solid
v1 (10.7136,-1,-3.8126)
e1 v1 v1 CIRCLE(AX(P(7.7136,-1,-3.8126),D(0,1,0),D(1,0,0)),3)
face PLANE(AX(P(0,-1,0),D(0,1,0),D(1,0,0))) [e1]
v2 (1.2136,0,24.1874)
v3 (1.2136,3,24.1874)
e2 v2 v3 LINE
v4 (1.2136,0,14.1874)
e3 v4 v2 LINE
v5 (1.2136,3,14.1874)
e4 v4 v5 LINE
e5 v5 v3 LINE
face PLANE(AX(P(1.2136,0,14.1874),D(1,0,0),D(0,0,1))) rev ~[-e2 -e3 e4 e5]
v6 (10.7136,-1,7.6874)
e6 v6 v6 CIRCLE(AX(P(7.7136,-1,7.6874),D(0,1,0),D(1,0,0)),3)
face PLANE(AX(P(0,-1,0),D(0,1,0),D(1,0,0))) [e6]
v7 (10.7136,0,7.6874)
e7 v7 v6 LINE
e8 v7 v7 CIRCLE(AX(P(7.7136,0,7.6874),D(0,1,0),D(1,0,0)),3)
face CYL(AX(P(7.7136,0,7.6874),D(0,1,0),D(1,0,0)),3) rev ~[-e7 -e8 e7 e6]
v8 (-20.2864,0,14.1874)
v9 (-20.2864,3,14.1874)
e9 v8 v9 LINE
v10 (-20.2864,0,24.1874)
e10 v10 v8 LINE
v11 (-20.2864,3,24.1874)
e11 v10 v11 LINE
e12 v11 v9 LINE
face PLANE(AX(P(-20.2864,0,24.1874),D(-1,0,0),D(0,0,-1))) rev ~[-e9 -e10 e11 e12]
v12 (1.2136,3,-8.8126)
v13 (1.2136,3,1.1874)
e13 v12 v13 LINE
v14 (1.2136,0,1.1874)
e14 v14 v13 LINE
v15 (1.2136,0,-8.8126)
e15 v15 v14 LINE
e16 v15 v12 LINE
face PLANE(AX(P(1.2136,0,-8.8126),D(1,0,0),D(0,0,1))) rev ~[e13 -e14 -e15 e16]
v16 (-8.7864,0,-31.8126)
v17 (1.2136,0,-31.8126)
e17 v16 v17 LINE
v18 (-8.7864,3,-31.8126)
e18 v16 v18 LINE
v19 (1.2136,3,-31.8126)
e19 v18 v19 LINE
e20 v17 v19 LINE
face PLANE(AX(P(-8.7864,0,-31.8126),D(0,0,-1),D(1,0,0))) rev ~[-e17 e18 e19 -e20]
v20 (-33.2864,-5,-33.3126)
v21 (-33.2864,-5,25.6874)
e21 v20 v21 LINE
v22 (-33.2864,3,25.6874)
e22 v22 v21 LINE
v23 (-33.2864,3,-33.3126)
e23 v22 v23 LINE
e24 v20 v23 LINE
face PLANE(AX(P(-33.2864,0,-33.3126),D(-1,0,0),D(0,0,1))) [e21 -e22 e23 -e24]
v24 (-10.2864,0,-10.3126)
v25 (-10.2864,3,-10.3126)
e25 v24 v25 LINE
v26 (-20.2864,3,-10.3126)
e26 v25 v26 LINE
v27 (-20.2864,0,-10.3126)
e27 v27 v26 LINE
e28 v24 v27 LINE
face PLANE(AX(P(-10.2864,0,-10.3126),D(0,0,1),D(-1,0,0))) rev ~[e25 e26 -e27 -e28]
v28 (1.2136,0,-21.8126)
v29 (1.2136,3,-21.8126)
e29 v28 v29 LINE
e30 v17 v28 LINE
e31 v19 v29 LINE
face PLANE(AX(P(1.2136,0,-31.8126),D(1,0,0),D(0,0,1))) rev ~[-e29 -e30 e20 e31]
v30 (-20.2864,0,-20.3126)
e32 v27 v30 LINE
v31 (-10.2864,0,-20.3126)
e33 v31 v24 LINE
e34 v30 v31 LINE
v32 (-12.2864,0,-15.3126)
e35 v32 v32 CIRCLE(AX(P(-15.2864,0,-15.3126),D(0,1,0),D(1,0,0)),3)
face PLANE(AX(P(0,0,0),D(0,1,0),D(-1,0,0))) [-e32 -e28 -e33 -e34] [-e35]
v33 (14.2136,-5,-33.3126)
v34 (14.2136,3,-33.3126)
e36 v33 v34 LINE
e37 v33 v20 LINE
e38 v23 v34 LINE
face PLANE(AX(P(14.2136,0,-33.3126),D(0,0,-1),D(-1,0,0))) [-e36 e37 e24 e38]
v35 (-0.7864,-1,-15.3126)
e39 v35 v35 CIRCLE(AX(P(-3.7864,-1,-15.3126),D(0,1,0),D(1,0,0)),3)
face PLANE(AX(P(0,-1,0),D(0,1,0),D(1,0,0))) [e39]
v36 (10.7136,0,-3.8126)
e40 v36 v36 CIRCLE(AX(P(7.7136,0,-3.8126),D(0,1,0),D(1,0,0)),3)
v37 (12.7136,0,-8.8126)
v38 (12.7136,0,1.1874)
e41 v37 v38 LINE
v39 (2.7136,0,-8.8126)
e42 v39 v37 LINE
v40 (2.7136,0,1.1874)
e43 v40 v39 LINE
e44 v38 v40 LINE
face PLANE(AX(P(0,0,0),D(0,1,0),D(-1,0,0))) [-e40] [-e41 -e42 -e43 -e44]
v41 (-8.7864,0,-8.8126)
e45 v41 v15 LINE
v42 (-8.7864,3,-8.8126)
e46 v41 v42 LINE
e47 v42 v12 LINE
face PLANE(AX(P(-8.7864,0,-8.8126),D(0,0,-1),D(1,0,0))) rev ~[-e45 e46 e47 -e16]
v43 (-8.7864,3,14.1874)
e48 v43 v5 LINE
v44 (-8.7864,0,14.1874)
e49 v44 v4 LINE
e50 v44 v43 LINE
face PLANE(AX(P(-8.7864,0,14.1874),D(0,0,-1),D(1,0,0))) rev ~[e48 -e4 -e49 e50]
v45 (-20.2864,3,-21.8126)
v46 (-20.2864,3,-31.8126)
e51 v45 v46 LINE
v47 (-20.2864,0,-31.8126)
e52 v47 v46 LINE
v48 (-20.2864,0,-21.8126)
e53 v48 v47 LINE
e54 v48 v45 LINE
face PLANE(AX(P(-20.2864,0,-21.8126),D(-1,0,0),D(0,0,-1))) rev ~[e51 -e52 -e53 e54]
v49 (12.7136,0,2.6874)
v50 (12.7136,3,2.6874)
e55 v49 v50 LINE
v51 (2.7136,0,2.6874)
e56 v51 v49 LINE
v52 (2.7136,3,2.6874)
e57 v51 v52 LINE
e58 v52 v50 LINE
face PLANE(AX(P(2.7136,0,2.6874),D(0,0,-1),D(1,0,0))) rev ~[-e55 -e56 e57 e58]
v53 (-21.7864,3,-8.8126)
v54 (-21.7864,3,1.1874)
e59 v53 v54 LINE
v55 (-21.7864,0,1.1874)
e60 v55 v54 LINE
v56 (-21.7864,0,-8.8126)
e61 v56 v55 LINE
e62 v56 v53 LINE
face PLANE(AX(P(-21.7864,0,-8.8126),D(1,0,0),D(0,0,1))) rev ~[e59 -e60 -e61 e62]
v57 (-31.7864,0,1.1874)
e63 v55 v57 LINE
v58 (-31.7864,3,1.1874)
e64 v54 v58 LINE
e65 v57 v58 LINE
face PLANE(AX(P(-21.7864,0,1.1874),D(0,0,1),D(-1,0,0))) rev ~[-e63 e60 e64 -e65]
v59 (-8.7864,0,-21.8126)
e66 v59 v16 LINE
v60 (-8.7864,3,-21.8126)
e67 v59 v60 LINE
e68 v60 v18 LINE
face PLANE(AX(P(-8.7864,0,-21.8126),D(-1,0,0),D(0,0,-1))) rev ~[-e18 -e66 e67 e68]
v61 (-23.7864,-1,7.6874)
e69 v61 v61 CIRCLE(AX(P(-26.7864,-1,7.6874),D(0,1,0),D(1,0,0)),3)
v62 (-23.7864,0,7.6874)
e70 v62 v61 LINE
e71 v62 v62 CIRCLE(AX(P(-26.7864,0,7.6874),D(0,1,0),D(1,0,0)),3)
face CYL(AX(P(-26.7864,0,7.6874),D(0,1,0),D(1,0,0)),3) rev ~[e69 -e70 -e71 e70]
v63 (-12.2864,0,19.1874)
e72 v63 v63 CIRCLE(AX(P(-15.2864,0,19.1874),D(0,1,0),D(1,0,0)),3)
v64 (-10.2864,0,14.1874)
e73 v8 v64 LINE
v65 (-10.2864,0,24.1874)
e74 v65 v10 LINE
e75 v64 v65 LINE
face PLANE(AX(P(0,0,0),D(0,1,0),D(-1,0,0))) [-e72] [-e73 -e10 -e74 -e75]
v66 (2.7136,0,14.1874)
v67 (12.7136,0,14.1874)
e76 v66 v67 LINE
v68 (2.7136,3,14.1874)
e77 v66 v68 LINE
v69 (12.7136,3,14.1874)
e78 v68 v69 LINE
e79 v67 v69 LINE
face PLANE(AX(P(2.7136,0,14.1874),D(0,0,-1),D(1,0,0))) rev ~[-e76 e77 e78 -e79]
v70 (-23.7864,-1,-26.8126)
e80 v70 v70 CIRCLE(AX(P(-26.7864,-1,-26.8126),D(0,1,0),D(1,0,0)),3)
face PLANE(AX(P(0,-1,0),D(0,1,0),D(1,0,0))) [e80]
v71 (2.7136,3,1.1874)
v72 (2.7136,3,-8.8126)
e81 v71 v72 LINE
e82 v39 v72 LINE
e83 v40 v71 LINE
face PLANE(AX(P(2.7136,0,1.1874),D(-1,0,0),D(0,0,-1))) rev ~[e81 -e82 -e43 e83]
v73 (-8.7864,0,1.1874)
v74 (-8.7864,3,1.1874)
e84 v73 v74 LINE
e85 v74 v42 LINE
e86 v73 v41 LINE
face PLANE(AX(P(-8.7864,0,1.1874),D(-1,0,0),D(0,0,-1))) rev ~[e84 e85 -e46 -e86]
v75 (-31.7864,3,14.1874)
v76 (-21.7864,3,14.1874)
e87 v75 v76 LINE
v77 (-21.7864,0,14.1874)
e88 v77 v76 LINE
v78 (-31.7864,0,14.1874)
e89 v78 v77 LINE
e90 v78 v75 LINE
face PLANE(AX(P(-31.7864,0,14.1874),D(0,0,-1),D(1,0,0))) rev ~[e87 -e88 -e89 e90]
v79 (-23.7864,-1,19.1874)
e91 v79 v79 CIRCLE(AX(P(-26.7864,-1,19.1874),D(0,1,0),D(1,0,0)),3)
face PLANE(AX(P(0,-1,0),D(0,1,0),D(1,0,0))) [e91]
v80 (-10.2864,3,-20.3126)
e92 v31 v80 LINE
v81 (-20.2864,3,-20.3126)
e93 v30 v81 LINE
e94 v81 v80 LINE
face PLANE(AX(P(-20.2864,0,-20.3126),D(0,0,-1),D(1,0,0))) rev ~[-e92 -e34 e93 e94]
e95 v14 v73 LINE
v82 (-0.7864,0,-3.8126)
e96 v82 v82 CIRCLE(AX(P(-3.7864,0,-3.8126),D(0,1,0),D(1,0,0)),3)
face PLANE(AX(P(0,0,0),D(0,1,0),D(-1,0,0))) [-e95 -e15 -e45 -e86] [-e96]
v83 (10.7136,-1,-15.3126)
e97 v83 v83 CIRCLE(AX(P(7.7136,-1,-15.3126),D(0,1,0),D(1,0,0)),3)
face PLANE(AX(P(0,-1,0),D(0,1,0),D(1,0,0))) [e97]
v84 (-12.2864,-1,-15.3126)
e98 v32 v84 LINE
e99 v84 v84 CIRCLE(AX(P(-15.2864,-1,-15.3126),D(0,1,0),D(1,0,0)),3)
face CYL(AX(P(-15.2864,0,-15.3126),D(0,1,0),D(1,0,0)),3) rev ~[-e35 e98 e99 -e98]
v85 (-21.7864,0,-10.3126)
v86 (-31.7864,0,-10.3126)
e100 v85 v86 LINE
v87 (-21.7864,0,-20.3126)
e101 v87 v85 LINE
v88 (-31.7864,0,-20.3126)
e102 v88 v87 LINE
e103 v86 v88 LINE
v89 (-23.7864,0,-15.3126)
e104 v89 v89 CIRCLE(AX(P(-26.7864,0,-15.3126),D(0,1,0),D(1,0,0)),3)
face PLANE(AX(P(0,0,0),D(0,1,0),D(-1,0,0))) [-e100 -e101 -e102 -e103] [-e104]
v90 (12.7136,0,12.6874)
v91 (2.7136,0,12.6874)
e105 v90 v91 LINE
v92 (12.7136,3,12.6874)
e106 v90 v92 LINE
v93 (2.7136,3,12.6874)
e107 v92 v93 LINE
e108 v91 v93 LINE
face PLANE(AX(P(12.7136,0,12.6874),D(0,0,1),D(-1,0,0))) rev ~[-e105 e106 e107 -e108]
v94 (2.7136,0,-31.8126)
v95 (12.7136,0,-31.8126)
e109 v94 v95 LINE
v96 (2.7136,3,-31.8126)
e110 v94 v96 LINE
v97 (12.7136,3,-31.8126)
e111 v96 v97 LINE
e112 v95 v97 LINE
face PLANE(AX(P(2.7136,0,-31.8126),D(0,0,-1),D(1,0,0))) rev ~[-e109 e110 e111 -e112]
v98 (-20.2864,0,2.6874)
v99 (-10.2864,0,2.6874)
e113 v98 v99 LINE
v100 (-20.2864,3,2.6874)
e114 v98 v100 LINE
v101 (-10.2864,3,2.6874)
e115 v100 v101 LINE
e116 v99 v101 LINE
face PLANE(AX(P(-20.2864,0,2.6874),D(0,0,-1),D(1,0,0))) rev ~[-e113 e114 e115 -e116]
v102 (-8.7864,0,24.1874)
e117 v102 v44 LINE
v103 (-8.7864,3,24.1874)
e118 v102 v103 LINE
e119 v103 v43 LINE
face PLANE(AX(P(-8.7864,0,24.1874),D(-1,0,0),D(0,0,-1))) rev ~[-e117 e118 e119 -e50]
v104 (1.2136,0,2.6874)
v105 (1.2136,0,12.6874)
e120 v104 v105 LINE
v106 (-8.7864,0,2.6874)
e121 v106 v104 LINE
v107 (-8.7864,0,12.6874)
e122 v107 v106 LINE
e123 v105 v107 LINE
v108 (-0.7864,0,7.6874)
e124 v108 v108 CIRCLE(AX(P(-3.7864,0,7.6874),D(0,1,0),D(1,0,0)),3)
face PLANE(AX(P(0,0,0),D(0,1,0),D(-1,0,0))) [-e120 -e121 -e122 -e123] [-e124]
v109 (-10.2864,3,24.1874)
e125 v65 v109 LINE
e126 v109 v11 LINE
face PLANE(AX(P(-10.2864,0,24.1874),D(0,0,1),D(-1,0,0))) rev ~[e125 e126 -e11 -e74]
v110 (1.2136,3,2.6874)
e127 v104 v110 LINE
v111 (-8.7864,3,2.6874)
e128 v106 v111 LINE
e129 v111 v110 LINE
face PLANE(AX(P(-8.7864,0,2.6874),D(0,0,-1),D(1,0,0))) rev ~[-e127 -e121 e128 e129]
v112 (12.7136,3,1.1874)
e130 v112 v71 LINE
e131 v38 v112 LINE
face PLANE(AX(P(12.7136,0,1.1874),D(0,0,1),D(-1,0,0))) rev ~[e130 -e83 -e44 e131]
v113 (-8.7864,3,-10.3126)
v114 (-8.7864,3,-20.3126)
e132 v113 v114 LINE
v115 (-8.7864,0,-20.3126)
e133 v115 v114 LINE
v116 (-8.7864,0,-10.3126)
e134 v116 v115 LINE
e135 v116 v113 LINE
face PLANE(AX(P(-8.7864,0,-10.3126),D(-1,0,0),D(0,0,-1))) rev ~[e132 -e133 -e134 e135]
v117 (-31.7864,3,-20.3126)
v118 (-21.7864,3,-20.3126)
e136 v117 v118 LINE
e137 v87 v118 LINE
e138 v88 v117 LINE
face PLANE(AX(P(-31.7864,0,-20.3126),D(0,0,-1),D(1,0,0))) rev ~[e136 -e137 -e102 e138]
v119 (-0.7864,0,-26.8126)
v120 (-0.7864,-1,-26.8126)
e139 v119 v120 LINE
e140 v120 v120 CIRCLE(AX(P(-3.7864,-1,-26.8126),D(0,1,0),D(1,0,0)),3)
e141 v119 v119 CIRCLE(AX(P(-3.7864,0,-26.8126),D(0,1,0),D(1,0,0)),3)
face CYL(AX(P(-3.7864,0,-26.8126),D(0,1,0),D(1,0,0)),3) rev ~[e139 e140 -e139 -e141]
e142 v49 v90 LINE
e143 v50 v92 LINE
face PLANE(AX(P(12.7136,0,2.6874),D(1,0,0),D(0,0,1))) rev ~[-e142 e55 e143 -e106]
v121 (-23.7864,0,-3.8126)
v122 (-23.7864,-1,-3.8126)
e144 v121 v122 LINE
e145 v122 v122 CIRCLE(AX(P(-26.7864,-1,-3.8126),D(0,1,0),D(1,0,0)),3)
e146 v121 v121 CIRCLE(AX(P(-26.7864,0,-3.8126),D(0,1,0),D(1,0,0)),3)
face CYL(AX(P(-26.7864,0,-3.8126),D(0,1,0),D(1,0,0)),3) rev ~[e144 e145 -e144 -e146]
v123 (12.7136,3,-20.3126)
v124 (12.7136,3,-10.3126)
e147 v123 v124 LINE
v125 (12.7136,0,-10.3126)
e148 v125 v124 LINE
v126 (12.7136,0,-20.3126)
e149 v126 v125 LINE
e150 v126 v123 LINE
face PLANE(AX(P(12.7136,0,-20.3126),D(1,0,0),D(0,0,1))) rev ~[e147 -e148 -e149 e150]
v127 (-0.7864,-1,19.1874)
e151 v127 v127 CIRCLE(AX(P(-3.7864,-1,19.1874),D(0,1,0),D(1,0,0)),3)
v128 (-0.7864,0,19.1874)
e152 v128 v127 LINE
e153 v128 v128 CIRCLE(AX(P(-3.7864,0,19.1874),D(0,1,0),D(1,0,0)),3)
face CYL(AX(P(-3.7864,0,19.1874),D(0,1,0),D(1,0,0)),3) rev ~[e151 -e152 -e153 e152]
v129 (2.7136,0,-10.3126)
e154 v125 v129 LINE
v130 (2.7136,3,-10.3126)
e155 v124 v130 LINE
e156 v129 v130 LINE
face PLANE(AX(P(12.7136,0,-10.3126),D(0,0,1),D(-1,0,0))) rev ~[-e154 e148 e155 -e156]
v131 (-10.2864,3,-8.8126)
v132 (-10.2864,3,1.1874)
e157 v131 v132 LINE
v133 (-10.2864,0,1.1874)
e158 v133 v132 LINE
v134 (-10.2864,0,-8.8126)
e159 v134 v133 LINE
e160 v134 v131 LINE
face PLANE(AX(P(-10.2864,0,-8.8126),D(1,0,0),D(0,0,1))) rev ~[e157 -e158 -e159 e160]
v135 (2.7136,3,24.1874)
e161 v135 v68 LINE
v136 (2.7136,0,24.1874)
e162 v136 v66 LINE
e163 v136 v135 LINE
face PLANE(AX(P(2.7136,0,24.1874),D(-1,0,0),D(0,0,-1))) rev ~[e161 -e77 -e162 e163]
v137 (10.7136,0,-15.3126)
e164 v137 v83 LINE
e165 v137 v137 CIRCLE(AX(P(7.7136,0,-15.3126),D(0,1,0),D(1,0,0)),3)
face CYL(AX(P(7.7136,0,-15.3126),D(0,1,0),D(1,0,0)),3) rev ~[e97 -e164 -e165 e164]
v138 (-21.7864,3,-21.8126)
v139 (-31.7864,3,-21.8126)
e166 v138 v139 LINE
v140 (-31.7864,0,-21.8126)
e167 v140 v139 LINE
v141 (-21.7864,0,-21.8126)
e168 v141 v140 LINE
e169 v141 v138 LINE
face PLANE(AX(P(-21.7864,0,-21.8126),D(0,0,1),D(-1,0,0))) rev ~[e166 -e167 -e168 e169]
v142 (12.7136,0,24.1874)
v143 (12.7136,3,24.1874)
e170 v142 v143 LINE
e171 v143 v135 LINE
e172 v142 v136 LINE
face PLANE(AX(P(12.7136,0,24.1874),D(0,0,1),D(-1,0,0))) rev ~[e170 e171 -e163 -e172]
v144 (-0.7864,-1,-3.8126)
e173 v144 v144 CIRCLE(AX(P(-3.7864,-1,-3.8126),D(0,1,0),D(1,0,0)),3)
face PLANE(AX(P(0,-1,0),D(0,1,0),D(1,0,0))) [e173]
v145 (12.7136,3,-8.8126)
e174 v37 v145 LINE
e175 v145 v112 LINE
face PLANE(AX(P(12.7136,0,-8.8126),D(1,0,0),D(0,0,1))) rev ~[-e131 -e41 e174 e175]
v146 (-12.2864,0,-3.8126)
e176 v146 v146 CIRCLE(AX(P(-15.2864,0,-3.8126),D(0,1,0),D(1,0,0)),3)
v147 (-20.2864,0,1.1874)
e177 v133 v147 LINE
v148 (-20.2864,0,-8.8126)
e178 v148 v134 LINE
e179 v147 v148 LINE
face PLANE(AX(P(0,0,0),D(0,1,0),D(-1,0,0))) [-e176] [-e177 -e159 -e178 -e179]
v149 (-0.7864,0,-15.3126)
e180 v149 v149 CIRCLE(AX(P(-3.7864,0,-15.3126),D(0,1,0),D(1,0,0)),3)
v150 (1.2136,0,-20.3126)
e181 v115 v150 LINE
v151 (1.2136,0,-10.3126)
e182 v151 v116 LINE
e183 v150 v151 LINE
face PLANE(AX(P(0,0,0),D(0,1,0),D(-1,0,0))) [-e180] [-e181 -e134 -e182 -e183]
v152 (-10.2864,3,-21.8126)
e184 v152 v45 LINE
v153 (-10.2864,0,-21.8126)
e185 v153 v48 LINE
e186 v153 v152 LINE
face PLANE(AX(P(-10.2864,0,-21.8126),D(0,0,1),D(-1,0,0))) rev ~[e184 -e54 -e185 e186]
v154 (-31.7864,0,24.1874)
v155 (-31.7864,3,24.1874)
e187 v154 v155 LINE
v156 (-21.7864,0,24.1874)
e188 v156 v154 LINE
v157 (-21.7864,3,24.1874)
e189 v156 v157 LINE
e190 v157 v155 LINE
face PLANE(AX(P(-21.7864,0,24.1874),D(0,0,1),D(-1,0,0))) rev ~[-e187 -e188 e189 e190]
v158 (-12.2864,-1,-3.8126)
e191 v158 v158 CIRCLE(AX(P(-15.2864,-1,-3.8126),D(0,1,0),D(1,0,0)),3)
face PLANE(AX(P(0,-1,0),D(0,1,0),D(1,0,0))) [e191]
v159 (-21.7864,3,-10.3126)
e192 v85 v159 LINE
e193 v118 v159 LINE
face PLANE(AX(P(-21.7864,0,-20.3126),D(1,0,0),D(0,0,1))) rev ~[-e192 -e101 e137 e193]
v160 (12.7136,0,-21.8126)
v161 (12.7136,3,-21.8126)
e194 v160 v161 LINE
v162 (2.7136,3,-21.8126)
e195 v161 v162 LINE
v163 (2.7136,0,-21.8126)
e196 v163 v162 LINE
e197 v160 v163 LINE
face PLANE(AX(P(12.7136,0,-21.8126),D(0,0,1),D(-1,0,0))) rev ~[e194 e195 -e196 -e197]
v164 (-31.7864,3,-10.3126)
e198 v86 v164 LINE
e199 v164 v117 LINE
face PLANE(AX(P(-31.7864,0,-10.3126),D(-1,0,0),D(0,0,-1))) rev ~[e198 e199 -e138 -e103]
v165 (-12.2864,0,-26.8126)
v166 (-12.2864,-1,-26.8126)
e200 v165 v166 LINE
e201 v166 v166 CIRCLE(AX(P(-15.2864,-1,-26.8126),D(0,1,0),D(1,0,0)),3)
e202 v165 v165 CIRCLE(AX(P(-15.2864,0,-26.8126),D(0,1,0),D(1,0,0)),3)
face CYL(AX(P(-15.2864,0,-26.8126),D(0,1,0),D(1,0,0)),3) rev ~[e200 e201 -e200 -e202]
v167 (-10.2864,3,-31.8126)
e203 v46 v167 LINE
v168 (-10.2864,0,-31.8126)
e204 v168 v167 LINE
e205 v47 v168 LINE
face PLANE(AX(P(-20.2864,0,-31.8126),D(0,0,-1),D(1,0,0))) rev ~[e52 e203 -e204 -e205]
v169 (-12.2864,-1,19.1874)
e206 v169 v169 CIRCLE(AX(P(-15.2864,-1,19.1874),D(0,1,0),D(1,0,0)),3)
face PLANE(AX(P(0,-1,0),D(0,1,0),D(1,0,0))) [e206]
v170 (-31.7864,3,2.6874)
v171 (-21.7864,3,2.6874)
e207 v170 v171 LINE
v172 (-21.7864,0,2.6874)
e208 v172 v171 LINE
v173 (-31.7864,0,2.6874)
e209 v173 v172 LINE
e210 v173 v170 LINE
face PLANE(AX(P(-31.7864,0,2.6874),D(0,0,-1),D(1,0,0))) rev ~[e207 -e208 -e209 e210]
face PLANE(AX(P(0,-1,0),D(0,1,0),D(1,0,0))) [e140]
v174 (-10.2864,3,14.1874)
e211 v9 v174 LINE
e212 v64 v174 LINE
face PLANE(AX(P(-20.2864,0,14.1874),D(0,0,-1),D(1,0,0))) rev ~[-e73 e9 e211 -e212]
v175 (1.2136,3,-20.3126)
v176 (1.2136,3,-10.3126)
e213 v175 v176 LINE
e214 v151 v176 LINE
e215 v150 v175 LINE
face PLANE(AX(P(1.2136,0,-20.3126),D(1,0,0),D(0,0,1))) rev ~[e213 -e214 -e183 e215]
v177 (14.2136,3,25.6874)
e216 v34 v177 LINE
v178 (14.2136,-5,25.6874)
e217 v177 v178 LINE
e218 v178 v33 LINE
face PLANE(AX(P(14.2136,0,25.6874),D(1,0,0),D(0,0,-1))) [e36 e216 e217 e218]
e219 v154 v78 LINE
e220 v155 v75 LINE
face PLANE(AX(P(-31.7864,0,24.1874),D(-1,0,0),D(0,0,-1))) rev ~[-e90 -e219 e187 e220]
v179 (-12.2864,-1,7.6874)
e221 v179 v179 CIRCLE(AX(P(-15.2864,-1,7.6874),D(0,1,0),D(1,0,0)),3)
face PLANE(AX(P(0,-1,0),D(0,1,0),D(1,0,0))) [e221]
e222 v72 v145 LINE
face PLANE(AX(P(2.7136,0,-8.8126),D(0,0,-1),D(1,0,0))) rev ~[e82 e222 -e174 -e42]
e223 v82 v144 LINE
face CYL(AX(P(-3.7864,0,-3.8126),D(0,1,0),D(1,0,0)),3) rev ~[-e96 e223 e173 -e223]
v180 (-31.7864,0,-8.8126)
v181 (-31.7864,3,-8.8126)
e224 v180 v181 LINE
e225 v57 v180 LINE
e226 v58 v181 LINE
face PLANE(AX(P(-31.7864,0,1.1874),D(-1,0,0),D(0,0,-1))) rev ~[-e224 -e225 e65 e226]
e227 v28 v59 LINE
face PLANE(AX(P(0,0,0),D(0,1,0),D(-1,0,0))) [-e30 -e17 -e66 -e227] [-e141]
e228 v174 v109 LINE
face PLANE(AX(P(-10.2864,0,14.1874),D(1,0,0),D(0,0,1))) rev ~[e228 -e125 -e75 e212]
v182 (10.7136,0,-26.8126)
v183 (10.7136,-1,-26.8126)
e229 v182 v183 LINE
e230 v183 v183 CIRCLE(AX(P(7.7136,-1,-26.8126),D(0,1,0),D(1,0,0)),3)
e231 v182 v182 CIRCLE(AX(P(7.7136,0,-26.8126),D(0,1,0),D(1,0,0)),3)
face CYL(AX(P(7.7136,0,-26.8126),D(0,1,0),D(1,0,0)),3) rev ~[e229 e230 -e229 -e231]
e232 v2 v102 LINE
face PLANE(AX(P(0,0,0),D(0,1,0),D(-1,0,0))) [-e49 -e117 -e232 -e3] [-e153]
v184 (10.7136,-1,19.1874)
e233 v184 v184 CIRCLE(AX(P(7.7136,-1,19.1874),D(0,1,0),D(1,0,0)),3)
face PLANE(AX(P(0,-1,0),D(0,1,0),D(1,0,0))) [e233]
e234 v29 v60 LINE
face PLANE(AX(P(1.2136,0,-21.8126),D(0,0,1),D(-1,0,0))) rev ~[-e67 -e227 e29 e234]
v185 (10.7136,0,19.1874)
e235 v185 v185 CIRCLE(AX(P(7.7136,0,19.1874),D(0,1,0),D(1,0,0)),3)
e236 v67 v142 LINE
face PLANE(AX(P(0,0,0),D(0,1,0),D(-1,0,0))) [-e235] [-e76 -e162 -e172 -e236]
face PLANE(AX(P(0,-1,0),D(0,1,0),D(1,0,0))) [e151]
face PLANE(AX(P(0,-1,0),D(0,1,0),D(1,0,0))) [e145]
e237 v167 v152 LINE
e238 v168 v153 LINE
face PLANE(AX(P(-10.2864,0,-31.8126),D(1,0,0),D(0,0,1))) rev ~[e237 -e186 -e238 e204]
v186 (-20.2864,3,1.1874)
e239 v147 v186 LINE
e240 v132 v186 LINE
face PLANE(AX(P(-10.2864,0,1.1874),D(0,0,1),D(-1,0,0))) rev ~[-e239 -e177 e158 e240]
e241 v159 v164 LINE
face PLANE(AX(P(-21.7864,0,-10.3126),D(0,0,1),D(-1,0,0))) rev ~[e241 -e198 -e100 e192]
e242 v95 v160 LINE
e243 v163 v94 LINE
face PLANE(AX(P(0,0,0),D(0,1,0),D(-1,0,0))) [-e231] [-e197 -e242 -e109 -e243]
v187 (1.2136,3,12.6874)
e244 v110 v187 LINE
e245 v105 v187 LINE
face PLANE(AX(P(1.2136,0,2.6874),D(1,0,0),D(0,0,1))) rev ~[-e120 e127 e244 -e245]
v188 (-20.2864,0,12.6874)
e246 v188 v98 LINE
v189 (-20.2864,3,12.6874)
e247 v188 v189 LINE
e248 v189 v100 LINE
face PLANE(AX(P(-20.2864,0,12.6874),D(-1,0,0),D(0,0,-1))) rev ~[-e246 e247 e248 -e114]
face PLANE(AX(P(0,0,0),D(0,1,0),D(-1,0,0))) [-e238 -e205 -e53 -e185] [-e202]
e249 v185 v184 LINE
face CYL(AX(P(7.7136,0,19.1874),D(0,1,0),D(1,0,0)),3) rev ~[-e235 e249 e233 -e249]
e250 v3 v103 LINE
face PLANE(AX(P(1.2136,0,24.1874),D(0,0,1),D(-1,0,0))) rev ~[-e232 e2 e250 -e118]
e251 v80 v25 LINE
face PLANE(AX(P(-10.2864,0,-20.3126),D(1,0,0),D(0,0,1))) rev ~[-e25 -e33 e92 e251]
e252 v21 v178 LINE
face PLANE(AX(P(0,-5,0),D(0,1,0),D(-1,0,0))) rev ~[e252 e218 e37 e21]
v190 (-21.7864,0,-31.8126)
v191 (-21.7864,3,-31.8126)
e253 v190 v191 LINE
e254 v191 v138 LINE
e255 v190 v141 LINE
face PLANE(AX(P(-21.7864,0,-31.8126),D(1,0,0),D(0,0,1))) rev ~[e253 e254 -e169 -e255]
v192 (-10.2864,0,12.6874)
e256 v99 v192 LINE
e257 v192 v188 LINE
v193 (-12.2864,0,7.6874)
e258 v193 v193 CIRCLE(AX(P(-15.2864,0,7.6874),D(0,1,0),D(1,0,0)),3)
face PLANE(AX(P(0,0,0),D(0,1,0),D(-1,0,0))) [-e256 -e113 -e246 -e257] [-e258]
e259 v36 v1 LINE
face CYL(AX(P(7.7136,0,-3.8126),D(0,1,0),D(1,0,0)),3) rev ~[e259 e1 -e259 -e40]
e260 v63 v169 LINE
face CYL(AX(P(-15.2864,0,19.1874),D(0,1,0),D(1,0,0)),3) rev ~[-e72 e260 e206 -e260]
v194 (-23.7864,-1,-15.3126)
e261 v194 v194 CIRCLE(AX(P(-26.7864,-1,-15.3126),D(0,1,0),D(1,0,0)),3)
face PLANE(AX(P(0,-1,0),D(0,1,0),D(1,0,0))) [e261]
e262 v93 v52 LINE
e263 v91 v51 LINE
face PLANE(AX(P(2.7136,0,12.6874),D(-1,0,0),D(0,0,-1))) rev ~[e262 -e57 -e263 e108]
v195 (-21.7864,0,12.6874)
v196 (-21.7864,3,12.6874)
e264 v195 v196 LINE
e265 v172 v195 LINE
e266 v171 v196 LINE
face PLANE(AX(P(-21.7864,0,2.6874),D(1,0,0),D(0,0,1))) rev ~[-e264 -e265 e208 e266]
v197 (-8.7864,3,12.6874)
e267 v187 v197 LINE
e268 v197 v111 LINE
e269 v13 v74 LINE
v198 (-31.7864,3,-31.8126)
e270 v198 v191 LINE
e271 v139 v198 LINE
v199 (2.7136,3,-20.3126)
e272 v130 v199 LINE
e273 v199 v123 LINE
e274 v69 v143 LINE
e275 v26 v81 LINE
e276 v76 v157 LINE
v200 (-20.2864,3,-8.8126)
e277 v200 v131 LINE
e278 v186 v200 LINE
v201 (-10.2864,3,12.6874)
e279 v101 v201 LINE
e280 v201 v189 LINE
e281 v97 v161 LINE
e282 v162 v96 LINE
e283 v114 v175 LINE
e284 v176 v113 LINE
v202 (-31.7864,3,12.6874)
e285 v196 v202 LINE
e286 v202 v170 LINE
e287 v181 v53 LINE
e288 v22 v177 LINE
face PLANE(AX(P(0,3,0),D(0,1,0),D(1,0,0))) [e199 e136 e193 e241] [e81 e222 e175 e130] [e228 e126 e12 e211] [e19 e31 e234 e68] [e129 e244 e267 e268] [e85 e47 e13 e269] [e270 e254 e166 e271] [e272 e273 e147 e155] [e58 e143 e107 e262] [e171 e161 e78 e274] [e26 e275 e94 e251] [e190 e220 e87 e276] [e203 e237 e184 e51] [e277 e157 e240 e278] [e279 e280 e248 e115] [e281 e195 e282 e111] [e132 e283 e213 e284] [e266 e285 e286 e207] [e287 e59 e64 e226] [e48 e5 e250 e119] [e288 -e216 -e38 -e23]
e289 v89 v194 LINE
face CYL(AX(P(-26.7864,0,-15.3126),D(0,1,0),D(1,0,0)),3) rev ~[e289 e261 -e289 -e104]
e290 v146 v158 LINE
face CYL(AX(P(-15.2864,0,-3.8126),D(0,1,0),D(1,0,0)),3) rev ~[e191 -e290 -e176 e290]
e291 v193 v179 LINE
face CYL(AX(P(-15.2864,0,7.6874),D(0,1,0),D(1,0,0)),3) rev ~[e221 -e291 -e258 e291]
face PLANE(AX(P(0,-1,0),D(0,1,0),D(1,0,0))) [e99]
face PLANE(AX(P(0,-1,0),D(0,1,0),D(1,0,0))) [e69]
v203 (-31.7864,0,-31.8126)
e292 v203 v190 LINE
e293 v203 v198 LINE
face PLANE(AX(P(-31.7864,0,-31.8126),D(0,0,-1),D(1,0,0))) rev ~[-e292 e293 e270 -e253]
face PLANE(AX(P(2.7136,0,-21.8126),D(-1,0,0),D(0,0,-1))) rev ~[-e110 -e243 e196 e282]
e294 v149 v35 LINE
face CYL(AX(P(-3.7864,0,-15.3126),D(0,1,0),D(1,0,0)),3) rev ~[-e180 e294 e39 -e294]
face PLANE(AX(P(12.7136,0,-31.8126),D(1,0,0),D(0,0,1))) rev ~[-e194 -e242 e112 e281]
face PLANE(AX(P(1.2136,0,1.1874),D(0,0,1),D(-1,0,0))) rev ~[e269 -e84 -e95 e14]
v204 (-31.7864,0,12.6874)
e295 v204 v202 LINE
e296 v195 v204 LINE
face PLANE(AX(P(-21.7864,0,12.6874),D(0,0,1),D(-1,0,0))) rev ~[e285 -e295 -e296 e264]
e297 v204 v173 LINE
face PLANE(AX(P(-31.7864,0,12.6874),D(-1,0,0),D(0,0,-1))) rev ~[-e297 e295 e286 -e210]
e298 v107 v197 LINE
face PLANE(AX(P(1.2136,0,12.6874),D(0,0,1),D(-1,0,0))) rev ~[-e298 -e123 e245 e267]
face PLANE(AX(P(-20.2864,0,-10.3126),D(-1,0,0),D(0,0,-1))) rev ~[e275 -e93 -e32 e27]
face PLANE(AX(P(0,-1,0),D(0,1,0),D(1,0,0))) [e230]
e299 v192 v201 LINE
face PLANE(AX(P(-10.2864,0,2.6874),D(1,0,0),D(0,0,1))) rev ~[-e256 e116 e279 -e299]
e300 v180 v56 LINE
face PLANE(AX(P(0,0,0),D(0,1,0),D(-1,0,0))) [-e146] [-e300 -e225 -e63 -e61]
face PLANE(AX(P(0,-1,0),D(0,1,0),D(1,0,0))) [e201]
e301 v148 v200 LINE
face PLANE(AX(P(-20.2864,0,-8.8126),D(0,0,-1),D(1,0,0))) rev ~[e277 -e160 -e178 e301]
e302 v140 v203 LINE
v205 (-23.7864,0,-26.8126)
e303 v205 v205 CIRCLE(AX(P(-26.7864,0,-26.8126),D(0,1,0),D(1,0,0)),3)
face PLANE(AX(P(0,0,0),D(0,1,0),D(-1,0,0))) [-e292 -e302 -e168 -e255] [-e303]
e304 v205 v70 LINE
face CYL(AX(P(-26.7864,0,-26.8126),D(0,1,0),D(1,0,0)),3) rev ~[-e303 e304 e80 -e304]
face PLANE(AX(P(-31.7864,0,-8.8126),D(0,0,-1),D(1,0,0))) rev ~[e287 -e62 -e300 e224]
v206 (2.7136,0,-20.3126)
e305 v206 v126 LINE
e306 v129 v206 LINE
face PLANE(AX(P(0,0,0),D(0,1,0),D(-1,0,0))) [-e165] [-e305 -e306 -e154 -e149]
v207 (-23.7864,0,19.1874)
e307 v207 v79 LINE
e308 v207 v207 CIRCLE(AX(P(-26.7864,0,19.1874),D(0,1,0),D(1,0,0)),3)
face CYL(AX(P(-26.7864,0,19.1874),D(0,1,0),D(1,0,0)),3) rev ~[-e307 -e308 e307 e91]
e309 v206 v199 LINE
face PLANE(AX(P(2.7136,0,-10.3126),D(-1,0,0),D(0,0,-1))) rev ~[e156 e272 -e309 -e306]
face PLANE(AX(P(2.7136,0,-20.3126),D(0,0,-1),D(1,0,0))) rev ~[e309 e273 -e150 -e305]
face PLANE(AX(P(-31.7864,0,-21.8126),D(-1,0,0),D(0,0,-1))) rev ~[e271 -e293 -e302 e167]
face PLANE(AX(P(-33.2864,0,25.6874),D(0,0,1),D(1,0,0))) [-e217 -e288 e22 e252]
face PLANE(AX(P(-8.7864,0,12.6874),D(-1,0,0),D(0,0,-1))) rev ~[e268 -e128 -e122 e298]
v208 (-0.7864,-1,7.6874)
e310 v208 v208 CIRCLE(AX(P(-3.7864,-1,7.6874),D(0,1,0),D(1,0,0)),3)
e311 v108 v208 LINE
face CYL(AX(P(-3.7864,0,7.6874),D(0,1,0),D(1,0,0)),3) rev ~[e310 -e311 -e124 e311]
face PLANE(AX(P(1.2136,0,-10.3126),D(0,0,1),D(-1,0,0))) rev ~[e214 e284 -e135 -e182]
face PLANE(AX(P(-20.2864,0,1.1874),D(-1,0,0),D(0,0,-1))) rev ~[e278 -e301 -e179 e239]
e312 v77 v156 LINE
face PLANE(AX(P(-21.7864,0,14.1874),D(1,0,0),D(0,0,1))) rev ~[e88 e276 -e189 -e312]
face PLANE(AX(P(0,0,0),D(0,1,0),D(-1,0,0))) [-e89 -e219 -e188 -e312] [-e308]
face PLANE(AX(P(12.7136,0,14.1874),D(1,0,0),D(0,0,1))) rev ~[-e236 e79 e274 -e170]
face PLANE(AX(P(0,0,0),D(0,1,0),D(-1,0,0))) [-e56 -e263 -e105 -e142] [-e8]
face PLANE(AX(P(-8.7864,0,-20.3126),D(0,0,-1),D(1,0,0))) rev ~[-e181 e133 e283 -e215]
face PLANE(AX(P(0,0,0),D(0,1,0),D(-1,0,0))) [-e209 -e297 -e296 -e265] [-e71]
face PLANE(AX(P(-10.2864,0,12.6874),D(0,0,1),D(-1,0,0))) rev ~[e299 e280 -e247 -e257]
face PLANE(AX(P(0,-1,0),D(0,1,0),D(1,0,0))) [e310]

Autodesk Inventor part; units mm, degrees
sketch "Sketch1" plane through (0, 0, 0) normal (0, 1, 0) x (-1, 0, 0)
  line L0 (-14.2136, -33.3126) -> (33.2864, -33.3126)
  line L1 (33.2864, -33.3126) -> (33.2864, 25.6874)
  line L2 (33.2864, 25.6874) -> (-14.2136, 25.6874)
  line L3 (-14.2136, 25.6874) -> (-14.2136, -33.3126)
  point P0 (0, 0)
  dimension "d0" = 59
  dimension "d1" = 47.5
extrude "Extrusion1" add sketch "Sketch1" against normal blind 5
sketch "Sketch2" plane through (0, 0, 0) normal (0, 1, 0) x (1, 0, 0)
  line L0 (-33.2864, 33.3126) -> (14.2136, 33.3126) projected
  line L1 (14.2136, 33.3126) -> (-33.2864, 33.3126)
  line L2 (-33.2864, 33.3126) -> (-33.2864, 31.8126)
  line L3 (-33.2864, 31.8126) -> (14.2136, 31.8126)
  line L4 (14.2136, 31.8126) -> (14.2136, 33.3126)
  line L5 (14.2136, 31.8126) -> (12.7136, 31.8126)
  line L6 (12.7136, 31.8126) -> (12.7136, 21.8126)
  line L7 (12.7136, 21.8126) -> (14.2136, 21.8126)
  line L8 (14.2136, 21.8126) -> (14.2136, 31.8126)
  line L9 (2.7136, 21.8126) -> (2.7136, 31.8126)
  line L10 (1.2136, 31.8126) -> (1.2136, 21.8126)
  line L11 (1.2136, 21.8126) -> (2.7136, 21.8126)
  line L12 (-8.7864, 21.8126) -> (-8.7864, 31.8126)
  line L13 (-10.2864, 31.8126) -> (-10.2864, 21.8126)
  line L14 (-10.2864, 21.8126) -> (-8.7864, 21.8126)
  line L15 (-20.2864, 21.8126) -> (-20.2864, 31.8126)
  line L16 (-21.7864, 31.8126) -> (-21.7864, 21.8126)
  line L17 (-21.7864, 21.8126) -> (-20.2864, 21.8126)
  line L18 (-31.7864, 21.8126) -> (-31.7864, 31.8126)
  line L19 (-33.2864, 31.8126) -> (-33.2864, 21.8126)
  line L20 (-33.2864, 21.8126) -> (-31.7864, 21.8126)
  line L21 (14.2136, 10.3126) -> (14.2136, 20.3126)
  line L22 (12.7136, 20.3126) -> (12.7136, 10.3126)
  line L23 (14.2136, 21.8126) -> (-33.2864, 21.8126)
  line L24 (-33.2864, 20.3126) -> (14.2136, 20.3126)
  line L25 (14.2136, 20.3126) -> (14.2136, 21.8126)
  line L26 (-33.2864, 21.8126) -> (-33.2864, 20.3126)
  line L27 (-33.2864, 20.3126) -> (-33.2864, 10.3126)
  line L28 (-31.7864, 10.3126) -> (-31.7864, 20.3126)
  line L29 (-21.7864, 20.3126) -> (-21.7864, 10.3126)
  line L30 (-20.2864, 10.3126) -> (-20.2864, 20.3126)
  line L31 (-10.2864, 20.3126) -> (-10.2864, 10.3126)
  line L32 (-8.7864, 10.3126) -> (-8.7864, 20.3126)
  line L33 (1.2136, 20.3126) -> (1.2136, 10.3126)
  line L34 (2.7136, 10.3126) -> (2.7136, 20.3126)
  line L35 (1.2136, 10.3126) -> (2.7136, 10.3126)
  line L36 (-10.2864, 10.3126) -> (-8.7864, 10.3126)
  line L37 (12.7136, 10.3126) -> (14.2136, 10.3126)
  line L38 (-33.2864, 10.3126) -> (-31.7864, 10.3126)
  line L39 (-21.7864, 10.3126) -> (-20.2864, 10.3126)
  line L40 (14.2136, -1.1874) -> (14.2136, 8.8126)
  line L41 (12.7136, 8.8126) -> (12.7136, -1.1874)
  line L42 (14.2136, 10.3126) -> (-33.2864, 10.3126)
  line L43 (-33.2864, 8.8126) -> (14.2136, 8.8126)
  line L44 (14.2136, 8.8126) -> (14.2136, 10.3126)
  line L45 (-33.2864, 10.3126) -> (-33.2864, 8.8126)
  line L46 (-33.2864, 8.8126) -> (-33.2864, -1.1874)
  line L47 (-31.7864, -1.1874) -> (-31.7864, 8.8126)
  line L48 (-21.7864, 8.8126) -> (-21.7864, -1.1874)
  line L49 (-20.2864, -1.1874) -> (-20.2864, 8.8126)
  line L50 (-10.2864, 8.8126) -> (-10.2864, -1.1874)
  line L51 (-8.7864, -1.1874) -> (-8.7864, 8.8126)
  line L52 (1.2136, 8.8126) -> (1.2136, -1.1874)
  line L53 (2.7136, -1.1874) -> (2.7136, 8.8126)
  line L54 (1.2136, -1.1874) -> (2.7136, -1.1874)
  line L55 (-10.2864, -1.1874) -> (-8.7864, -1.1874)
  line L56 (12.7136, -1.1874) -> (14.2136, -1.1874)
  line L57 (-33.2864, -1.1874) -> (-31.7864, -1.1874)
  line L58 (-21.7864, -1.1874) -> (-20.2864, -1.1874)
  line L59 (14.2136, -12.6874) -> (14.2136, -2.6874)
  line L60 (12.7136, -2.6874) -> (12.7136, -12.6874)
  line L61 (14.2136, -1.1874) -> (-33.2864, -1.1874)
  line L62 (-33.2864, -2.6874) -> (14.2136, -2.6874)
  line L63 (14.2136, -2.6874) -> (14.2136, -1.1874)
  line L64 (-33.2864, -1.1874) -> (-33.2864, -2.6874)
  line L65 (-33.2864, -2.6874) -> (-33.2864, -12.6874)
  line L66 (-31.7864, -12.6874) -> (-31.7864, -2.6874)
  line L67 (-21.7864, -2.6874) -> (-21.7864, -12.6874)
  line L68 (-20.2864, -12.6874) -> (-20.2864, -2.6874)
  line L69 (-10.2864, -2.6874) -> (-10.2864, -12.6874)
  line L70 (-8.7864, -12.6874) -> (-8.7864, -2.6874)
  line L71 (1.2136, -2.6874) -> (1.2136, -12.6874)
  line L72 (2.7136, -12.6874) -> (2.7136, -2.6874)
  line L73 (1.2136, -12.6874) -> (2.7136, -12.6874)
  line L74 (-10.2864, -12.6874) -> (-8.7864, -12.6874)
  line L75 (12.7136, -12.6874) -> (14.2136, -12.6874)
  line L76 (-33.2864, -12.6874) -> (-31.7864, -12.6874)
  line L77 (-21.7864, -12.6874) -> (-20.2864, -12.6874)
  line L78 (14.2136, -24.1874) -> (14.2136, -14.1874)
  line L79 (12.7136, -14.1874) -> (12.7136, -24.1874)
  line L80 (14.2136, -12.6874) -> (-33.2864, -12.6874)
  line L81 (-33.2864, -14.1874) -> (14.2136, -14.1874)
  line L82 (14.2136, -14.1874) -> (14.2136, -12.6874)
  line L83 (-33.2864, -12.6874) -> (-33.2864, -14.1874)
  line L84 (-33.2864, -14.1874) -> (-33.2864, -24.1874)
  line L85 (-31.7864, -24.1874) -> (-31.7864, -14.1874)
  line L86 (-21.7864, -14.1874) -> (-21.7864, -24.1874)
  line L87 (-20.2864, -24.1874) -> (-20.2864, -14.1874)
  line L88 (-10.2864, -14.1874) -> (-10.2864, -24.1874)
  line L89 (-8.7864, -24.1874) -> (-8.7864, -14.1874)
  line L90 (1.2136, -14.1874) -> (1.2136, -24.1874)
  line L91 (2.7136, -24.1874) -> (2.7136, -14.1874)
  line L92 (1.2136, -24.1874) -> (2.7136, -24.1874)
  line L93 (-10.2864, -24.1874) -> (-8.7864, -24.1874)
  line L94 (12.7136, -24.1874) -> (14.2136, -24.1874)
  line L95 (-33.2864, -24.1874) -> (-31.7864, -24.1874)
  line L96 (-21.7864, -24.1874) -> (-20.2864, -24.1874)
  line L97 (-33.2864, -25.6874) -> (-33.2864, 33.3126) projected
  line L98 (14.2136, -24.1874) -> (-33.2864, -24.1874)
  line L99 (-33.2864, -24.1874) -> (-33.2864, -25.6874)
  line L100 (-33.2864, -25.6874) -> (14.2136, -25.6874)
  line L101 (14.2136, -25.6874) -> (14.2136, -24.1874)
  point P0 (0, 0)
  point P1 (13.4636, 31.8126)
  point P2 (13.4636, 21.8126)
  point P3 (1.9636, 21.8126)
  point P4 (-9.5364, 21.8126)
  point P5 (-21.0364, 21.8126)
  point P6 (-32.5364, 21.8126)
  point P7 (1.9636, 10.3126)
  point P8 (-9.5364, 10.3126)
  point P9 (13.4636, 10.3126)
  point P10 (-32.5364, 10.3126)
  point P11 (-21.0364, 10.3126)
  point P12 (1.9636, -1.1874)
  point P13 (-9.5364, -1.1874)
  point P14 (13.4636, -1.1874)
  point P15 (-32.5364, -1.1874)
  point P16 (-21.0364, -1.1874)
  point P17 (1.9636, -12.6874)
  point P18 (-9.5364, -12.6874)
  point P19 (13.4636, -12.6874)
  point P20 (-32.5364, -12.6874)
  point P21 (-21.0364, -12.6874)
  point P22 (1.9636, -24.1874)
  point P23 (-9.5364, -24.1874)
  point P24 (13.4636, -24.1874)
  point P25 (-32.5364, -24.1874)
  point P26 (-21.0364, -24.1874)
  point P27 (12.7136, 21.8126)
  point P28 (2.7136, 21.8126)
  point P29 (1.2136, 21.8126)
  point P30 (-8.7864, 31.8126)
  point P31 (-10.2864, 21.8126)
  point P32 (-20.2864, 21.8126)
  point P33 (-20.2864, 31.8126)
  point P34 (-21.7864, 31.8126)
  point P35 (-21.7864, 21.8126)
  point P36 (-31.7864, 21.8126)
  point P37 (-31.7864, 31.8126)
  point P38 (-21.7864, -14.1874)
  point P39 (-21.7864, -24.1874)
  point P40 (-31.7864, -24.1874)
  point P41 (-10.2864, -24.1874)
  point P42 (-20.2864, -24.1874)
  point P43 (-20.2864, -14.1874)
  point P44 (1.2136, -14.1874)
  point P45 (-8.7864, -24.1874)
  point P46 (2.7136, -14.1874)
  point P47 (12.7136, -14.1874)
  point P48 (2.7136, -24.1874)
  point P49 (-21.7864, -2.6874)
  point P50 (-21.7864, -12.6874)
  point P51 (-31.7864, -12.6874)
  point P52 (-10.2864, -2.6874)
  point P53 (-10.2864, -12.6874)
  point P54 (-20.2864, -12.6874)
  point P55 (-20.2864, -2.6874)
  point P56 (1.2136, -2.6874)
  point P57 (1.2136, -12.6874)
  point P58 (-8.7864, -12.6874)
  point P59 (2.7136, -2.6874)
  point P60 (12.7136, -2.6874)
  point P61 (12.7136, -12.6874)
  point P62 (2.7136, -12.6874)
  point P63 (-21.7864, 8.8126)
  point P64 (-21.7864, -1.1874)
  point P65 (-31.7864, -1.1874)
  point P66 (-10.2864, -1.1874)
  point P67 (-20.2864, -1.1874)
  point P68 (-20.2864, 8.8126)
  point P69 (1.2136, 8.8126)
  point P70 (1.2136, -1.1874)
  point P71 (-8.7864, -1.1874)
  point P72 (2.7136, 8.8126)
  point P73 (12.7136, 8.8126)
  point P74 (12.7136, -1.1874)
  point P75 (2.7136, -1.1874)
  point P76 (-21.7864, 20.3126)
  point P77 (-21.7864, 10.3126)
  point P78 (-31.7864, 10.3126)
  point P79 (-20.2864, 10.3126)
  point P80 (-20.2864, 20.3126)
  point P81 (1.2136, 20.3126)
  point P82 (1.2136, 10.3126)
  point P83 (2.7136, 20.3126)
  point P84 (12.7136, 20.3126)
  point P85 (12.7136, 10.3126)
  point P86 (2.7136, 10.3126)
  point P87 (-33.2864, -24.1874)
  point P88 (-33.2864, -1.1874)
  point P89 (-33.2864, 10.3126)
  point P90 (-33.2864, 21.8126)
  point P91 (-33.2864, 31.8126)
  point P92 (-33.2864, -12.6874)
  dimension "d4" = 1.5
  dimension "d5" = 1.5
  dimension "d6" = 10
  dimension "d9" = 11.5
  dimension "d16" = 11.5
extrude "Extrusion2" add sketch "Sketch2" along normal blind 3 contours L0 L4 L3 L2 | L3 L18 L20 L19 | L8 L7 L6 L3 | L20 L23 L17 L14 L11 L7 L25 L24 L26 | L3 L15 L17 L16 | L24 L28 L38 L27 | L9 L11 L10 L3 | L21 L37 L22 L24 | L38 L42 L39 L36 L35 L37 L44 L43 L45 | L3 L12 L14 L13 | L24 L30 L39 L29 | L43 L47 L57 L46 | L40 L56 L41 L43 | L34 L35 L33 L24 | L57 L61 L58 L55 L54 L56 L63 L62 L64 | L24 L32 L36 L31 | L43 L49 L58 L48 | L62 L66 L76 L65 | L59 L75 L60 L62 | L53 L54 L52 L43 | L76 L80 L77 L74 L73 L75 L82 L81 L83 | L43 L51 L55 L50 | L62 L68 L77 L67 | L81 L85 L95 L84 | L78 L94 L79 L81 | L72 L73 L71 L62 | L95 L98 L96 L93 L92 L94 L101 L100 L97 | L62 L70 L74 L69 | L81 L87 L96 L86 | L91 L92 L90 L81 | L81 L89 L93 L88
sketch "Sketch3" plane through (0, 0, 0) normal (0, 1, 0) x (1, 0, 0)
  circle A0 centre (-26.7864, 26.8126) radius 3
  line L0 (-21.7864, 31.8126) -> (-21.7864, 21.8126) projected
  line L1 (-31.7864, 31.8126) -> (-21.7864, 31.8126) projected
  circle A1 centre (-15.2864, 26.8126) radius 3
  circle A2 centre (-3.7864, 26.8126) radius 3
  circle A3 centre (7.7136, 26.8126) radius 3
  circle A4 centre (-26.7864, 15.3126) radius 3
  circle A5 centre (-15.2864, 15.3126) radius 3
  circle A6 centre (-3.7864, 15.3126) radius 3
  circle A7 centre (7.7136, 15.3126) radius 3
  circle A8 centre (-26.7864, 3.8126) radius 3
  circle A9 centre (-15.2864, 3.8126) radius 3
  circle A10 centre (-3.7864, 3.8126) radius 3
  circle A11 centre (7.7136, 3.8126) radius 3
  circle A12 centre (-26.7864, -7.6874) radius 3
  circle A13 centre (-15.2864, -7.6874) radius 3
  circle A14 centre (-3.7864, -7.6874) radius 3
  circle A15 centre (7.7136, -7.6874) radius 3
  circle A16 centre (-26.7864, -19.1874) radius 3
  circle A17 centre (-15.2864, -19.1874) radius 3
  circle A18 centre (-3.7864, -19.1874) radius 3
  circle A19 centre (7.7136, -19.1874) radius 3
  point P0 (0, 0)
  dimension "d23" = 6
  dimension "d24" = 5
  dimension "d25" = 5
  dimension "d28" = 11.5
  dimension "d31" = 11.5
extrude "Extrusion3" cut sketch "Sketch3" against normal blind 1
properties part number "PanHolder"
